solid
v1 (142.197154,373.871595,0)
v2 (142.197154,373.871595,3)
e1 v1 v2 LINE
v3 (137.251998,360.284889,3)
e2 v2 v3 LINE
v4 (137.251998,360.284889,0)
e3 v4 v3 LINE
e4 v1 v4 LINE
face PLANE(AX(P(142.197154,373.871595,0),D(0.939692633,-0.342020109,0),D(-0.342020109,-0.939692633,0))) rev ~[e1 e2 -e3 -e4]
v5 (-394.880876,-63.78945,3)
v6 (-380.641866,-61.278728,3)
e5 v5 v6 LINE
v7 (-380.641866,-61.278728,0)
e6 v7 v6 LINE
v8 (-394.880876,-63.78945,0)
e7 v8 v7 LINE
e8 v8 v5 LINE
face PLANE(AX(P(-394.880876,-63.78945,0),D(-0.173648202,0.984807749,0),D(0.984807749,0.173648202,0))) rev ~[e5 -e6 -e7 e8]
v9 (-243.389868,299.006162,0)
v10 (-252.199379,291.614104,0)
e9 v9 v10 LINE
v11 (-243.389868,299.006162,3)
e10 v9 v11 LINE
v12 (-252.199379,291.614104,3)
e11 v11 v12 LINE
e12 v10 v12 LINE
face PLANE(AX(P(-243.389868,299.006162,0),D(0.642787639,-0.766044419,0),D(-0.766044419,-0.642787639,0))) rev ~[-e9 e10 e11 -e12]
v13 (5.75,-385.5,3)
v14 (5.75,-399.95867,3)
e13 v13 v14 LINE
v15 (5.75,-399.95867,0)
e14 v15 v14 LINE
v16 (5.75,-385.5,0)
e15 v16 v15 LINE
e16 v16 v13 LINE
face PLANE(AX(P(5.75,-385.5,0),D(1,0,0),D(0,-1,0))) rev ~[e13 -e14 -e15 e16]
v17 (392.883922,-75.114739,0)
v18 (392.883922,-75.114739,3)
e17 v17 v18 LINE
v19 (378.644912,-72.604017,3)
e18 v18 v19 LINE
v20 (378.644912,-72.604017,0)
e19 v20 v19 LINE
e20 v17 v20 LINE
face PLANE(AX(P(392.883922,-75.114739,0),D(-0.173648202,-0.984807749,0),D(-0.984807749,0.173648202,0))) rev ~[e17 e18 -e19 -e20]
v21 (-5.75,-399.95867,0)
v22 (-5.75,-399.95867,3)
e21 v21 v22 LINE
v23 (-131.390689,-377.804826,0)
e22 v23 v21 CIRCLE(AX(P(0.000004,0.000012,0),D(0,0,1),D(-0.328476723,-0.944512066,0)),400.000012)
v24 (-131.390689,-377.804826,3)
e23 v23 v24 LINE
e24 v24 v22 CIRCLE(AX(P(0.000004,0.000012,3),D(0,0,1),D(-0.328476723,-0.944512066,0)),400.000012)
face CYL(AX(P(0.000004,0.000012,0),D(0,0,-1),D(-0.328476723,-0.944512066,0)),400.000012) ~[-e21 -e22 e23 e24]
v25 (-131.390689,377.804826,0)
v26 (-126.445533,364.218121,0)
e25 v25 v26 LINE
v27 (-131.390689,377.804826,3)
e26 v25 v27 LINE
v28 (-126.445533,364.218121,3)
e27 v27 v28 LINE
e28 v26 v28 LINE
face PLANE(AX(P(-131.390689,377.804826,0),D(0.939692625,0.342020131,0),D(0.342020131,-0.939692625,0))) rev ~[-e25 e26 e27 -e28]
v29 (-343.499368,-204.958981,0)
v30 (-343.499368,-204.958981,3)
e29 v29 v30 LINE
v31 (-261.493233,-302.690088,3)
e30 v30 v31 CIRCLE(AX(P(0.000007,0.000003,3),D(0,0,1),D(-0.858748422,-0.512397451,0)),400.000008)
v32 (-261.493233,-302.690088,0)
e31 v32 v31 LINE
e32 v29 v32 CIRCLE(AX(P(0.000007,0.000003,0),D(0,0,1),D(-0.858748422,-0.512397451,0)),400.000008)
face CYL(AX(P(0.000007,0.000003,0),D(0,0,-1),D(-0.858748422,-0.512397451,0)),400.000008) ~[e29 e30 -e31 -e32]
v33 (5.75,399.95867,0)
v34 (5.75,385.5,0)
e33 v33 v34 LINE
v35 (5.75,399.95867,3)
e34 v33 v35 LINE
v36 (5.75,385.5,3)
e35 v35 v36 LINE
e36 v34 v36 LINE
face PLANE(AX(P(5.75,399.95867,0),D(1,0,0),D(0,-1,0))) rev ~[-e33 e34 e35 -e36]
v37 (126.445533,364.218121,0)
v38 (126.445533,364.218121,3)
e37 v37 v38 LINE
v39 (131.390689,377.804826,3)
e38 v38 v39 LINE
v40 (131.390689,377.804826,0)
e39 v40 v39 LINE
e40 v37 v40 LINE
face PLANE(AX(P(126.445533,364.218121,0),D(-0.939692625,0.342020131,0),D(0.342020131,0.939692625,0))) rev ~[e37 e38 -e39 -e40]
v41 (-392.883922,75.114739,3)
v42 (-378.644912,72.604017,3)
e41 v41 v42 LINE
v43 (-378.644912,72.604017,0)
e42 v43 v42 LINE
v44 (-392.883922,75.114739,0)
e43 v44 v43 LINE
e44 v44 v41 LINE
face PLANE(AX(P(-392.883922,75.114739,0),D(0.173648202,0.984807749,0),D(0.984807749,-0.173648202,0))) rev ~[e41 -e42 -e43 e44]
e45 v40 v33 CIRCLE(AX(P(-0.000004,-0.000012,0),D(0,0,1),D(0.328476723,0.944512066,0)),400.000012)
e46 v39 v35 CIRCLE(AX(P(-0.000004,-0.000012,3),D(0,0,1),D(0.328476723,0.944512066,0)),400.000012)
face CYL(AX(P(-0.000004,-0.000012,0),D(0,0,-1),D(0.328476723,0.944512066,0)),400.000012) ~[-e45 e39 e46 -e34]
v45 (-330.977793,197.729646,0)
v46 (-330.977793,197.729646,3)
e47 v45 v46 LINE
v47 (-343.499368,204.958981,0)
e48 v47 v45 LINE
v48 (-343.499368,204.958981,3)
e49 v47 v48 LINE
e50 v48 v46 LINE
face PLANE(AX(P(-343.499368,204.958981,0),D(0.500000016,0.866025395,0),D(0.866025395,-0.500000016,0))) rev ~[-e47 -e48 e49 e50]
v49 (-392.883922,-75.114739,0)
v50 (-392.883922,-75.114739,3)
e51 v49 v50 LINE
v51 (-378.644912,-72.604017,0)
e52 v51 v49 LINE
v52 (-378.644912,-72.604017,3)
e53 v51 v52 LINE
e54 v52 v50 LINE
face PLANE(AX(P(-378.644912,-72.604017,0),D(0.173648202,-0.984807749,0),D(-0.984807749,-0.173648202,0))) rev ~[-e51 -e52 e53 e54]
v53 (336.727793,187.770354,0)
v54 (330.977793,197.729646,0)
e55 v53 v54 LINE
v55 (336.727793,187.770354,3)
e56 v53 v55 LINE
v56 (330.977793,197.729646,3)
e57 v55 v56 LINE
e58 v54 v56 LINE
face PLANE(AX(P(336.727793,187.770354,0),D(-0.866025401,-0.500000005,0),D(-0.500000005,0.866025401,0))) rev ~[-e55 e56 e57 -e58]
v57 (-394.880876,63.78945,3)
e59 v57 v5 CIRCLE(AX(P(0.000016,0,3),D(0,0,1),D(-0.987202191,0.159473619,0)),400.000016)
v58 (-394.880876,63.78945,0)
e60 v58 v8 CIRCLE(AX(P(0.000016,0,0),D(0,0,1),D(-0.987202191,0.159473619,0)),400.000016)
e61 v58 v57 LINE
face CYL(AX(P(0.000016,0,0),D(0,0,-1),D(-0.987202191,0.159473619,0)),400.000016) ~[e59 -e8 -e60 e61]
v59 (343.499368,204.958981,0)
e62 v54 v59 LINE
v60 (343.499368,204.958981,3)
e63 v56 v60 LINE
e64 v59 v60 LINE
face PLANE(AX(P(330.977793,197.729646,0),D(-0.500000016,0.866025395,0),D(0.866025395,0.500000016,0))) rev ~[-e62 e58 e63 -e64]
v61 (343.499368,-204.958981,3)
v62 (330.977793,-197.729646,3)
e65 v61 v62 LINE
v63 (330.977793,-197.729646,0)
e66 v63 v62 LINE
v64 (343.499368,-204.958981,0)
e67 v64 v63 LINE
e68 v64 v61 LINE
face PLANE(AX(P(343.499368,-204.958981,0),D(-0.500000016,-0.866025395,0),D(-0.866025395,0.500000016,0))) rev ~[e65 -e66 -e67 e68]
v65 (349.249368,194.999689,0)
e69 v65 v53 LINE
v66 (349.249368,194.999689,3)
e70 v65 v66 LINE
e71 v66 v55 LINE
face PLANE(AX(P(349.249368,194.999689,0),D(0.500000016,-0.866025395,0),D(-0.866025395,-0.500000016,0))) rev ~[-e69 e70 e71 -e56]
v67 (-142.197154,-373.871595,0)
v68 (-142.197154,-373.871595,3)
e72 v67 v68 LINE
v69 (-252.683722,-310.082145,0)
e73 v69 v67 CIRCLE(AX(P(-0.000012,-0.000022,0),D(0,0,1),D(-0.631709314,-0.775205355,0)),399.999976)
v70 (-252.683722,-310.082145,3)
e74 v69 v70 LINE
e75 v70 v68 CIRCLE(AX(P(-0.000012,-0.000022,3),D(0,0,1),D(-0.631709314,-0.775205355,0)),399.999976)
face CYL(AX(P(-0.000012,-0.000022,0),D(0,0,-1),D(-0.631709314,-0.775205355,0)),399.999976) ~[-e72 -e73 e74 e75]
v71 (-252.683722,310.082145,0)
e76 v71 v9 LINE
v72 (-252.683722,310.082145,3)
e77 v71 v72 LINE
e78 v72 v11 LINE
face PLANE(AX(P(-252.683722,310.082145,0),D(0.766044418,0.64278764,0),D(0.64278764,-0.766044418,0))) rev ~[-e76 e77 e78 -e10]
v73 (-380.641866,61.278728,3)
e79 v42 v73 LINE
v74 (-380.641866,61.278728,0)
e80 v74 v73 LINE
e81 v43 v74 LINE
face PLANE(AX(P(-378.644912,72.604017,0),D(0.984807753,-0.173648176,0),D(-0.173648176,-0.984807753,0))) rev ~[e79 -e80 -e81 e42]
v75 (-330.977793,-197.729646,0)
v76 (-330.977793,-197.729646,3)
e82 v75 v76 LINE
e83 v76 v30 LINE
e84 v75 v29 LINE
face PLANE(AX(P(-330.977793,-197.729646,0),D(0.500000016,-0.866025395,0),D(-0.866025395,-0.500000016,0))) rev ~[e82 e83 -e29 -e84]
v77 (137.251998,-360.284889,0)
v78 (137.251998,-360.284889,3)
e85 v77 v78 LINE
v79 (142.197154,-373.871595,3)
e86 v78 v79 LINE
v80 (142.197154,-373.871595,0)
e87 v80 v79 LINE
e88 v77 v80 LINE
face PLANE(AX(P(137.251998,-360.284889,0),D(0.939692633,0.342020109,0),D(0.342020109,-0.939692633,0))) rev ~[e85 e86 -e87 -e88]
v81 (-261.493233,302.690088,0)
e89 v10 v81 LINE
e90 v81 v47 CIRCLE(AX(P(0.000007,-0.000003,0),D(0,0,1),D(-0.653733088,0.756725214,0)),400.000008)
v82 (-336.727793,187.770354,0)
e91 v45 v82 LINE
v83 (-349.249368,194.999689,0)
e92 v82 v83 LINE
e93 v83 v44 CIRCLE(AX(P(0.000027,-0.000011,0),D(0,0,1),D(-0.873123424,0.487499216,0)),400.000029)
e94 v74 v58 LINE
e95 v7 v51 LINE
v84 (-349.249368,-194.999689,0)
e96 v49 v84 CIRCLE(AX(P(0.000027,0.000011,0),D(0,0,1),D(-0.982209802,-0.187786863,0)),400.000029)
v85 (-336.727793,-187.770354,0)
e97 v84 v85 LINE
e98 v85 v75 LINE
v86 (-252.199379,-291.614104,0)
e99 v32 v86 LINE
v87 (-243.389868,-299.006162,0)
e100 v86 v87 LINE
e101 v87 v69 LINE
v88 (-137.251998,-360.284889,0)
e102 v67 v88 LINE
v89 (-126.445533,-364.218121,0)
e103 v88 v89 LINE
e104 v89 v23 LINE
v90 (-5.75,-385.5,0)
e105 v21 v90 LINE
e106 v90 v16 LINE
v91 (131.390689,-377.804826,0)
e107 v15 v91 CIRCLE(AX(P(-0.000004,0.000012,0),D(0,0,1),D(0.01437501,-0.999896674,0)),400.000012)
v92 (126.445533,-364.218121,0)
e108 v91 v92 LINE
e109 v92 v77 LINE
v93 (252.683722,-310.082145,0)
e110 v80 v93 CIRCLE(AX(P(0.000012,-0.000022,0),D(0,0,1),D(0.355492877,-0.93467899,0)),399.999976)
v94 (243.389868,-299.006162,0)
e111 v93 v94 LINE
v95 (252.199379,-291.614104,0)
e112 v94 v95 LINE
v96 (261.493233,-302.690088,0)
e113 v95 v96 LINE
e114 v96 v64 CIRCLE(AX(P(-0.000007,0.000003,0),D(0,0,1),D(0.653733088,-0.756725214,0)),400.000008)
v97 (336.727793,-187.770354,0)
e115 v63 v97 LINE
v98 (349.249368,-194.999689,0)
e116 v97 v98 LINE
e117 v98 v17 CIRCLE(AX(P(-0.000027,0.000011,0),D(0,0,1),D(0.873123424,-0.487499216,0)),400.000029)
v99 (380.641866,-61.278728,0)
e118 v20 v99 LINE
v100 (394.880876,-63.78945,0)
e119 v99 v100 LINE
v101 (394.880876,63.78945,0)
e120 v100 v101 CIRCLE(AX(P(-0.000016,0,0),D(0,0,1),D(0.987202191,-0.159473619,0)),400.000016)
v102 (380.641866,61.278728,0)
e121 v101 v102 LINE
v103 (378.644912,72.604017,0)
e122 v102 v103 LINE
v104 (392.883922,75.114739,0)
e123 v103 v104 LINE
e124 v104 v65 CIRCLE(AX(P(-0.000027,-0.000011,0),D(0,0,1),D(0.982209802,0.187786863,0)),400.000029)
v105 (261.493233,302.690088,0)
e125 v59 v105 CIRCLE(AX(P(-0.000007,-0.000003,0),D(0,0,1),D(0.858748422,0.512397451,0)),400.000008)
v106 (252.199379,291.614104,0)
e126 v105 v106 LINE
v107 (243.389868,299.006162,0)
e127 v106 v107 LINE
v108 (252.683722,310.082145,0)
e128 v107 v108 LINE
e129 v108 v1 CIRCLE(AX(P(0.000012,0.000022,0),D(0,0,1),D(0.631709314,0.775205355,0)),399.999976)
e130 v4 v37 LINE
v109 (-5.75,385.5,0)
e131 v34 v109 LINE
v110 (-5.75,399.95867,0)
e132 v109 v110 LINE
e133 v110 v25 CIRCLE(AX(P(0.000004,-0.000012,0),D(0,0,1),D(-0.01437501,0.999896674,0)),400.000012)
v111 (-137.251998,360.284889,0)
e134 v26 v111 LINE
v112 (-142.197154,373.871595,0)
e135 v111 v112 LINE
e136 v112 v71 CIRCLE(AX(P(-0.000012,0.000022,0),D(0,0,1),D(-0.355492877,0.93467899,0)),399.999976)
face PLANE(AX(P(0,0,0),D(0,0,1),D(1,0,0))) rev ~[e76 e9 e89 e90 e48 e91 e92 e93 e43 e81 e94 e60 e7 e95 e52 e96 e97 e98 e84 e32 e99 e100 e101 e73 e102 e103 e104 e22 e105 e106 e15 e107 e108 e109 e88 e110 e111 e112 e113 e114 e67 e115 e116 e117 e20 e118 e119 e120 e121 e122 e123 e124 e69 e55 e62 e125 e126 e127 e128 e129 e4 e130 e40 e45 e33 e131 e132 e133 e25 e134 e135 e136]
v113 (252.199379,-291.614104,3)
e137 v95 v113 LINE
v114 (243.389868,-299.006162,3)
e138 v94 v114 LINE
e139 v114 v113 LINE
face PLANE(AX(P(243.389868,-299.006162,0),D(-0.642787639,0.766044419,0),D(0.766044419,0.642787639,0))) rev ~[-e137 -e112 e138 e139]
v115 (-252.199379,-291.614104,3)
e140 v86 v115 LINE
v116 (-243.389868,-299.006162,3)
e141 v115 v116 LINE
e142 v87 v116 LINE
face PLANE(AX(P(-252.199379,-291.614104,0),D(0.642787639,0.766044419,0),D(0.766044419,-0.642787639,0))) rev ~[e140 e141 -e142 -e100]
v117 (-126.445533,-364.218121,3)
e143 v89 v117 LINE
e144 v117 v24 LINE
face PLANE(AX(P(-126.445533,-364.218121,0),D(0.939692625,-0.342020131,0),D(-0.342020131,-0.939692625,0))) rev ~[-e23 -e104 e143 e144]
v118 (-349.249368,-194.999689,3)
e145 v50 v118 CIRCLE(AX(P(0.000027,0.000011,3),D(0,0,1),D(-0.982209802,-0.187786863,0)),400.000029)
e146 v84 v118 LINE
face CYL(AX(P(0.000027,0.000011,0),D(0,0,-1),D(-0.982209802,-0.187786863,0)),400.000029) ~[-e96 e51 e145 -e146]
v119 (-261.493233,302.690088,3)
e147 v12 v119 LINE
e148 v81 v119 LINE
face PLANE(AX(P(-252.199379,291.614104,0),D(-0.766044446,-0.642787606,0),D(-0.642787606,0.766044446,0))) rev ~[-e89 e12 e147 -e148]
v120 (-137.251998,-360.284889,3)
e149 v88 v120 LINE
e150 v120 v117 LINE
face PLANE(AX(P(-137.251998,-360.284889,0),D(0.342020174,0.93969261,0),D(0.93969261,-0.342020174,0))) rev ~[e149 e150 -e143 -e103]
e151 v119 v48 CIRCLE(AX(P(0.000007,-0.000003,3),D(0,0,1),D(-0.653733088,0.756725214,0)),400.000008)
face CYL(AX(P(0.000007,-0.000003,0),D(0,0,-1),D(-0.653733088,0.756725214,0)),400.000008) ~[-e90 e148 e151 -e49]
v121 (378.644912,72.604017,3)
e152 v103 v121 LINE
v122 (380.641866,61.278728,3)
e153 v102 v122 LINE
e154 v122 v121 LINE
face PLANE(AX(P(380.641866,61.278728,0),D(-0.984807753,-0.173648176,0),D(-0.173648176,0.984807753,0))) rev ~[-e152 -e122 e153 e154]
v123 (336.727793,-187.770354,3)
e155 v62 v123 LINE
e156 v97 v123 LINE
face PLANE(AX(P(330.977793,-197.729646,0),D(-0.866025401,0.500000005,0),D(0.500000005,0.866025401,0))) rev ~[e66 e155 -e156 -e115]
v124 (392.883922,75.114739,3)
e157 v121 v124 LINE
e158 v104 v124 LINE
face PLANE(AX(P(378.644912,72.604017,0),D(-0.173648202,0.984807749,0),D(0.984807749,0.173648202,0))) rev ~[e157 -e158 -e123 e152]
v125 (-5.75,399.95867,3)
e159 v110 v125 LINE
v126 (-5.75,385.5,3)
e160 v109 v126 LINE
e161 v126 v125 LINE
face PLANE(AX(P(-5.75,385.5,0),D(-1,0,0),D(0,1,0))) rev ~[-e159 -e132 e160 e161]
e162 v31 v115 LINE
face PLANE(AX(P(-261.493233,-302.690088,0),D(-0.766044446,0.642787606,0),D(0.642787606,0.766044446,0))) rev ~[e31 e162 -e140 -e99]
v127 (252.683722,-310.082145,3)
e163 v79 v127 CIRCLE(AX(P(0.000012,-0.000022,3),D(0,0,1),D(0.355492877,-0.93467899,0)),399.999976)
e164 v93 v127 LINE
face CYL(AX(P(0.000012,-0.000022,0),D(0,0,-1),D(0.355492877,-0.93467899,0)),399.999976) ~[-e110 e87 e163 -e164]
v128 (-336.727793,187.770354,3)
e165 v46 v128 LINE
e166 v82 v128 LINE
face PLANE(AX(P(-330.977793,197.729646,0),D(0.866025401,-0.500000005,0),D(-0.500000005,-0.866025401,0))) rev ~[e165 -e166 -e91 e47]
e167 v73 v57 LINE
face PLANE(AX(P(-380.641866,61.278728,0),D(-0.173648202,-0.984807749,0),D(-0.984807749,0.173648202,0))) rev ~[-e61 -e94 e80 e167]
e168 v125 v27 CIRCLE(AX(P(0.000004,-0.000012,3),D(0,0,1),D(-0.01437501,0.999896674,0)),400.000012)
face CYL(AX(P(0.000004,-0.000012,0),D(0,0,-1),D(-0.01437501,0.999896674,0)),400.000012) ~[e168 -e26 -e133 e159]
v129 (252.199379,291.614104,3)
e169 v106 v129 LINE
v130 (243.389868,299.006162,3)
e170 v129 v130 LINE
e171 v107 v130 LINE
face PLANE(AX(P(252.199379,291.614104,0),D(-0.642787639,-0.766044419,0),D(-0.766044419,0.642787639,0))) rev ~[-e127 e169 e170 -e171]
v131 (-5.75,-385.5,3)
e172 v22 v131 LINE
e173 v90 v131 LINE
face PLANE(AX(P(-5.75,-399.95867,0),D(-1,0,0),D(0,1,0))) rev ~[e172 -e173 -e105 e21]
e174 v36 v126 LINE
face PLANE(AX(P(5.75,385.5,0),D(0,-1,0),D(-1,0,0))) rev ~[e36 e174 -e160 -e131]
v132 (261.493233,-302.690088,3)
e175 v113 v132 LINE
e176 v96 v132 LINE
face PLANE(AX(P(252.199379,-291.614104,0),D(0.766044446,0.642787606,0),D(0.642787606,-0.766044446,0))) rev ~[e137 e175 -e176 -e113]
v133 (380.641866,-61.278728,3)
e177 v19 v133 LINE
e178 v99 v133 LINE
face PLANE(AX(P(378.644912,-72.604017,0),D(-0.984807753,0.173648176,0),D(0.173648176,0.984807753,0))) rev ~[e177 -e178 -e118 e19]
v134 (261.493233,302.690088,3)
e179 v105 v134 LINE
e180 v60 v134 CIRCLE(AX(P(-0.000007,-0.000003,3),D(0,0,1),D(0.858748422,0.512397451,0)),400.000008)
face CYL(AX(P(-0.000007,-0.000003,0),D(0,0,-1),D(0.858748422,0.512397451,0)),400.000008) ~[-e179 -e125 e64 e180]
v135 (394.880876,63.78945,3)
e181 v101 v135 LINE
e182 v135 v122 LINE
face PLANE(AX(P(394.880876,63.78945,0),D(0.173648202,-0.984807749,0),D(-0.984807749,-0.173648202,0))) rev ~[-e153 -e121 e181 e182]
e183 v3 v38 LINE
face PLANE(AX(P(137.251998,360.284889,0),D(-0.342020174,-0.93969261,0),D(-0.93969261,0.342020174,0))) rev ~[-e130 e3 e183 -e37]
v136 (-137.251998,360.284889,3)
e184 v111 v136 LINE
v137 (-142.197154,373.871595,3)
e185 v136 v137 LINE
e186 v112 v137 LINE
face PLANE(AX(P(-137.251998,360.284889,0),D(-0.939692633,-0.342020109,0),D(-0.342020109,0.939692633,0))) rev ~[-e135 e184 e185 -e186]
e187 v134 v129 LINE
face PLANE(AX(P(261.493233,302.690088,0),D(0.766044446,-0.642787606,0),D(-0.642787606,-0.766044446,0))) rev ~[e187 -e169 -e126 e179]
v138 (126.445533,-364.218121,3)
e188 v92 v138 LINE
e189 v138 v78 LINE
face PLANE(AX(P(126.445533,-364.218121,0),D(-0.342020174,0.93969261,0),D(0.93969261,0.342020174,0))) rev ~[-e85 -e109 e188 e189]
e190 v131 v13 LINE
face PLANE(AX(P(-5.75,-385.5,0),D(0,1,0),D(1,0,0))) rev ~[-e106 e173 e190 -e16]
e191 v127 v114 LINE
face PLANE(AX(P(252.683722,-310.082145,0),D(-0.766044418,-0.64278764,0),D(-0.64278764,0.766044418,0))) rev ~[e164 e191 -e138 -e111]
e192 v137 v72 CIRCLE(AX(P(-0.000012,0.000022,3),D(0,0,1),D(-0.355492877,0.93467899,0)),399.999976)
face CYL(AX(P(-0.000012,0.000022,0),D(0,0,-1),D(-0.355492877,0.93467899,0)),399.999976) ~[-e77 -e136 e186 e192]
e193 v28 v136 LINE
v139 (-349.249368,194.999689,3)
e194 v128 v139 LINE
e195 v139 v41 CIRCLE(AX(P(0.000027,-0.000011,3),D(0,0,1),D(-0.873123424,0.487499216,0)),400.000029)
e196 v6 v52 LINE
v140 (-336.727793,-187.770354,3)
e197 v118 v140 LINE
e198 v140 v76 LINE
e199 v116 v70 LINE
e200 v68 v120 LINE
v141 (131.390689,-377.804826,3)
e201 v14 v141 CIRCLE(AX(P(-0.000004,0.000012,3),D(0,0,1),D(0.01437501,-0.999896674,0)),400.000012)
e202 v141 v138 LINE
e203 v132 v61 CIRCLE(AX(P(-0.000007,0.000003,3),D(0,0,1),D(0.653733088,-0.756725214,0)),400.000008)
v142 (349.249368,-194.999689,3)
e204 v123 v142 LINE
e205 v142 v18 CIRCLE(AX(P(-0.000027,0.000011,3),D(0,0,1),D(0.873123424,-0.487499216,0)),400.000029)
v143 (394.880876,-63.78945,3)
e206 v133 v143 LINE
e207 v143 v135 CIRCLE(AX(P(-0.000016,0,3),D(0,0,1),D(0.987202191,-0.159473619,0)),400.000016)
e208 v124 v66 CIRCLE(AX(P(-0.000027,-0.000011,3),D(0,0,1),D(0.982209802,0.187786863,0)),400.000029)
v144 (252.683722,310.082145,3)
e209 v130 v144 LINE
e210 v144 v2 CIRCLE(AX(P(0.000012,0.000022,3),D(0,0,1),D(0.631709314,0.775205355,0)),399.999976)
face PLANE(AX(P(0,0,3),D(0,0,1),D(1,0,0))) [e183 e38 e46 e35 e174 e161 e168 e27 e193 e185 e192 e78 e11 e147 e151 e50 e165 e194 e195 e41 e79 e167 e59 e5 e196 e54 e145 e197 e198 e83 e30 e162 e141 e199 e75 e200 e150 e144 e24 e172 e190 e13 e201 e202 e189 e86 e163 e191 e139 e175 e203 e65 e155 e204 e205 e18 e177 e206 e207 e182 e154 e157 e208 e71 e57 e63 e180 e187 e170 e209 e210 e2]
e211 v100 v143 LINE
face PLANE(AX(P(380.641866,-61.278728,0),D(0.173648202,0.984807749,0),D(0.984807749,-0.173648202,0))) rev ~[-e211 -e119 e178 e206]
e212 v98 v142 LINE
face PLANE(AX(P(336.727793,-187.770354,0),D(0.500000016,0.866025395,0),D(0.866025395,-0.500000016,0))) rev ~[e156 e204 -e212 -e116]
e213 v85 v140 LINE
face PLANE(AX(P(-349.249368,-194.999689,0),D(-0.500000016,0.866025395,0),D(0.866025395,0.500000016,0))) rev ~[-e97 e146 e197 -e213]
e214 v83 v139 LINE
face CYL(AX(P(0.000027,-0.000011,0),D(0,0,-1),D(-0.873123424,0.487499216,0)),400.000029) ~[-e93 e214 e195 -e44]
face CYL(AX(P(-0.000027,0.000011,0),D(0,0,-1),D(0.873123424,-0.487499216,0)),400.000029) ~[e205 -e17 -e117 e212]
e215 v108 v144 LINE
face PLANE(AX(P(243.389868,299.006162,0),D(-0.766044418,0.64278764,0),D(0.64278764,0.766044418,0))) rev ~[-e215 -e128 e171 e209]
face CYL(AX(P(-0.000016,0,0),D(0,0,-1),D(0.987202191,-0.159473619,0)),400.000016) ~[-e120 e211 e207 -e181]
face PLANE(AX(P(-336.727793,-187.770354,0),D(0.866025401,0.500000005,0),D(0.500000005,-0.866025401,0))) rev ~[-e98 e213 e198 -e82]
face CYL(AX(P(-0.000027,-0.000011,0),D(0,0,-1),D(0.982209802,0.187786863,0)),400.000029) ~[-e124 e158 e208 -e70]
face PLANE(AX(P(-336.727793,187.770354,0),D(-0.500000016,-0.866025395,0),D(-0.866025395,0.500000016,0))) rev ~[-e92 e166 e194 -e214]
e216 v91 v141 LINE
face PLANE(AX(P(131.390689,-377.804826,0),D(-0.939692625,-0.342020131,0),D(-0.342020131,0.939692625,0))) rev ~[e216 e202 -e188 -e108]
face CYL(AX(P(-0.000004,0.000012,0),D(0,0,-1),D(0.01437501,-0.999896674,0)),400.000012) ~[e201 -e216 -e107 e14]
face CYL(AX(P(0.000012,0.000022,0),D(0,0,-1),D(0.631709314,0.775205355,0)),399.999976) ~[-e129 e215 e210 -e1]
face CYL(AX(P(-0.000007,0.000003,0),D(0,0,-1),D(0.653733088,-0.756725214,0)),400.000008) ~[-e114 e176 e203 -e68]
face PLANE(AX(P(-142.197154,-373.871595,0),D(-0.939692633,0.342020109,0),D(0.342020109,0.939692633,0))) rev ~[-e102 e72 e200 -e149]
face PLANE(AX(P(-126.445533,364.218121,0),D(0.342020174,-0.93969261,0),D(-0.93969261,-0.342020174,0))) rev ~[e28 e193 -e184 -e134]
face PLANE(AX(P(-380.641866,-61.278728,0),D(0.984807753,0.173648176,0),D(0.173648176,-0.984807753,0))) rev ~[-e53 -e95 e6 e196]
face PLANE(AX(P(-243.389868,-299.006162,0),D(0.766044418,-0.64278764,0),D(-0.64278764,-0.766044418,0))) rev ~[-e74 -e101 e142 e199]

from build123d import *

# Parameters (mm, degrees)
F1_DEPTH = 3


with BuildPart() as f1:
    # F0 (on Top) → F1 (new body)
    with BuildSketch(Plane.XY):
        with BuildLine():
            Line((-5.75, 385.5), (-5.75, 399.95867))
            ThreePointArc((-5.75, 399.95867), (-69.459271, 393.923101), (-131.390689, 377.804826))
            Line((-131.390689, 377.804826), (-126.445533, 364.218121))
            Line((-126.445533, 364.218121), (-137.251998, 360.284889))
            Line((-137.251998, 360.284889), (-142.197154, 373.871595))
            ThreePointArc((-142.197154, 373.871595), (-200, 346.410162), (-252.683722, 310.082145))
            Line((-252.683722, 310.082145), (-243.389868, 299.006162))
            Line((-243.389868, 299.006162), (-252.199379, 291.614104))
            Line((-252.199379, 291.614104), (-261.493233, 302.690088))
            ThreePointArc((-261.493233, 302.690088), (-306.417777, 257.115044), (-343.499368, 204.958981))
            Line((-343.499368, 204.958981), (-330.977793, 197.729646))
            Line((-330.977793, 197.729646), (-336.727793, 187.770354))
            Line((-336.727793, 187.770354), (-349.249368, 194.999689))
            ThreePointArc((-349.249368, 194.999689), (-375.877048, 136.808057), (-392.883922, 75.114739))
            Line((-392.883922, 75.114739), (-378.644912, 72.604017))
            Line((-378.644912, 72.604017), (-380.641866, 61.278728))
            Line((-380.641866, 61.278728), (-394.880876, 63.78945))
            ThreePointArc((-394.880876, 63.78945), (-400, 0), (-394.880876, -63.78945))
            Line((-394.880876, -63.78945), (-380.641866, -61.278728))
            Line((-380.641866, -61.278728), (-378.644912, -72.604017))
            Line((-378.644912, -72.604017), (-392.883922, -75.114739))
            ThreePointArc((-392.883922, -75.114739), (-375.877048, -136.808057), (-349.249368, -194.999689))
            Line((-349.249368, -194.999689), (-336.727793, -187.770354))
            Line((-336.727793, -187.770354), (-330.977793, -197.729646))
            Line((-330.977793, -197.729646), (-343.499368, -204.958981))
            ThreePointArc((-343.499368, -204.958981), (-306.417777, -257.115044), (-261.493233, -302.690088))
            Line((-261.493233, -302.690088), (-252.199379, -291.614104))
            Line((-252.199379, -291.614104), (-243.389868, -299.006162))
            Line((-243.389868, -299.006162), (-252.683722, -310.082145))
            ThreePointArc((-252.683722, -310.082145), (-200, -346.410162), (-142.197154, -373.871595))
            Line((-142.197154, -373.871595), (-137.251998, -360.284889))
            Line((-137.251998, -360.284889), (-126.445533, -364.218121))
            Line((-126.445533, -364.218121), (-131.390689, -377.804826))
            ThreePointArc((-131.390689, -377.804826), (-69.459271, -393.923101), (-5.75, -399.95867))
            Line((-5.75, -399.95867), (-5.75, -385.5))
            Line((-5.75, -385.5), (5.75, -385.5))
            Line((5.75, -385.5), (5.75, -399.95867))
            ThreePointArc((5.75, -399.95867), (69.459271, -393.923101), (131.390689, -377.804826))
            Line((131.390689, -377.804826), (126.445533, -364.218121))
            Line((126.445533, -364.218121), (137.251998, -360.284889))
            Line((137.251998, -360.284889), (142.197154, -373.871595))
            ThreePointArc((142.197154, -373.871595), (200, -346.410162), (252.683722, -310.082145))
            Line((252.683722, -310.082145), (243.389868, -299.006162))
            Line((243.389868, -299.006162), (252.199379, -291.614104))
            Line((252.199379, -291.614104), (261.493233, -302.690088))
            ThreePointArc((261.493233, -302.690088), (306.417777, -257.115044), (343.499368, -204.958981))
            Line((343.499368, -204.958981), (330.977793, -197.729646))
            Line((330.977793, -197.729646), (336.727793, -187.770354))
            Line((336.727793, -187.770354), (349.249368, -194.999689))
            ThreePointArc((349.249368, -194.999689), (375.877048, -136.808057), (392.883922, -75.114739))
            Line((392.883922, -75.114739), (378.644912, -72.604017))
            Line((378.644912, -72.604017), (380.641866, -61.278728))
            Line((380.641866, -61.278728), (394.880876, -63.78945))
            ThreePointArc((394.880876, -63.78945), (400, 0), (394.880876, 63.78945))
            Line((394.880876, 63.78945), (380.641866, 61.278728))
            Line((380.641866, 61.278728), (378.644912, 72.604017))
            Line((378.644912, 72.604017), (392.883922, 75.114739))
            ThreePointArc((392.883922, 75.114739), (375.877048, 136.808057), (349.249368, 194.999689))
            Line((349.249368, 194.999689), (336.727793, 187.770354))
            Line((336.727793, 187.770354), (330.977793, 197.729646))
            Line((330.977793, 197.729646), (343.499368, 204.958981))
            ThreePointArc((343.499368, 204.958981), (306.417777, 257.115044), (261.493233, 302.690088))
            Line((261.493233, 302.690088), (252.199379, 291.614104))
            Line((252.199379, 291.614104), (243.389868, 299.006162))
            Line((243.389868, 299.006162), (252.683722, 310.082145))
            ThreePointArc((252.683722, 310.082145), (200, 346.410162), (142.197154, 373.871595))
            Line((142.197154, 373.871595), (137.251998, 360.284889))
            Line((137.251998, 360.284889), (126.445533, 364.218121))
            Line((126.445533, 364.218121), (131.390689, 377.804826))
            ThreePointArc((131.390689, 377.804826), (69.459271, 393.923101), (5.75, 399.95867))
            Line((5.75, 399.95867), (5.75, 385.5))
            Line((5.75, 385.5), (-5.75, 385.5))
        make_face()
    extrude(amount=F1_DEPTH)


solid = f1.part
